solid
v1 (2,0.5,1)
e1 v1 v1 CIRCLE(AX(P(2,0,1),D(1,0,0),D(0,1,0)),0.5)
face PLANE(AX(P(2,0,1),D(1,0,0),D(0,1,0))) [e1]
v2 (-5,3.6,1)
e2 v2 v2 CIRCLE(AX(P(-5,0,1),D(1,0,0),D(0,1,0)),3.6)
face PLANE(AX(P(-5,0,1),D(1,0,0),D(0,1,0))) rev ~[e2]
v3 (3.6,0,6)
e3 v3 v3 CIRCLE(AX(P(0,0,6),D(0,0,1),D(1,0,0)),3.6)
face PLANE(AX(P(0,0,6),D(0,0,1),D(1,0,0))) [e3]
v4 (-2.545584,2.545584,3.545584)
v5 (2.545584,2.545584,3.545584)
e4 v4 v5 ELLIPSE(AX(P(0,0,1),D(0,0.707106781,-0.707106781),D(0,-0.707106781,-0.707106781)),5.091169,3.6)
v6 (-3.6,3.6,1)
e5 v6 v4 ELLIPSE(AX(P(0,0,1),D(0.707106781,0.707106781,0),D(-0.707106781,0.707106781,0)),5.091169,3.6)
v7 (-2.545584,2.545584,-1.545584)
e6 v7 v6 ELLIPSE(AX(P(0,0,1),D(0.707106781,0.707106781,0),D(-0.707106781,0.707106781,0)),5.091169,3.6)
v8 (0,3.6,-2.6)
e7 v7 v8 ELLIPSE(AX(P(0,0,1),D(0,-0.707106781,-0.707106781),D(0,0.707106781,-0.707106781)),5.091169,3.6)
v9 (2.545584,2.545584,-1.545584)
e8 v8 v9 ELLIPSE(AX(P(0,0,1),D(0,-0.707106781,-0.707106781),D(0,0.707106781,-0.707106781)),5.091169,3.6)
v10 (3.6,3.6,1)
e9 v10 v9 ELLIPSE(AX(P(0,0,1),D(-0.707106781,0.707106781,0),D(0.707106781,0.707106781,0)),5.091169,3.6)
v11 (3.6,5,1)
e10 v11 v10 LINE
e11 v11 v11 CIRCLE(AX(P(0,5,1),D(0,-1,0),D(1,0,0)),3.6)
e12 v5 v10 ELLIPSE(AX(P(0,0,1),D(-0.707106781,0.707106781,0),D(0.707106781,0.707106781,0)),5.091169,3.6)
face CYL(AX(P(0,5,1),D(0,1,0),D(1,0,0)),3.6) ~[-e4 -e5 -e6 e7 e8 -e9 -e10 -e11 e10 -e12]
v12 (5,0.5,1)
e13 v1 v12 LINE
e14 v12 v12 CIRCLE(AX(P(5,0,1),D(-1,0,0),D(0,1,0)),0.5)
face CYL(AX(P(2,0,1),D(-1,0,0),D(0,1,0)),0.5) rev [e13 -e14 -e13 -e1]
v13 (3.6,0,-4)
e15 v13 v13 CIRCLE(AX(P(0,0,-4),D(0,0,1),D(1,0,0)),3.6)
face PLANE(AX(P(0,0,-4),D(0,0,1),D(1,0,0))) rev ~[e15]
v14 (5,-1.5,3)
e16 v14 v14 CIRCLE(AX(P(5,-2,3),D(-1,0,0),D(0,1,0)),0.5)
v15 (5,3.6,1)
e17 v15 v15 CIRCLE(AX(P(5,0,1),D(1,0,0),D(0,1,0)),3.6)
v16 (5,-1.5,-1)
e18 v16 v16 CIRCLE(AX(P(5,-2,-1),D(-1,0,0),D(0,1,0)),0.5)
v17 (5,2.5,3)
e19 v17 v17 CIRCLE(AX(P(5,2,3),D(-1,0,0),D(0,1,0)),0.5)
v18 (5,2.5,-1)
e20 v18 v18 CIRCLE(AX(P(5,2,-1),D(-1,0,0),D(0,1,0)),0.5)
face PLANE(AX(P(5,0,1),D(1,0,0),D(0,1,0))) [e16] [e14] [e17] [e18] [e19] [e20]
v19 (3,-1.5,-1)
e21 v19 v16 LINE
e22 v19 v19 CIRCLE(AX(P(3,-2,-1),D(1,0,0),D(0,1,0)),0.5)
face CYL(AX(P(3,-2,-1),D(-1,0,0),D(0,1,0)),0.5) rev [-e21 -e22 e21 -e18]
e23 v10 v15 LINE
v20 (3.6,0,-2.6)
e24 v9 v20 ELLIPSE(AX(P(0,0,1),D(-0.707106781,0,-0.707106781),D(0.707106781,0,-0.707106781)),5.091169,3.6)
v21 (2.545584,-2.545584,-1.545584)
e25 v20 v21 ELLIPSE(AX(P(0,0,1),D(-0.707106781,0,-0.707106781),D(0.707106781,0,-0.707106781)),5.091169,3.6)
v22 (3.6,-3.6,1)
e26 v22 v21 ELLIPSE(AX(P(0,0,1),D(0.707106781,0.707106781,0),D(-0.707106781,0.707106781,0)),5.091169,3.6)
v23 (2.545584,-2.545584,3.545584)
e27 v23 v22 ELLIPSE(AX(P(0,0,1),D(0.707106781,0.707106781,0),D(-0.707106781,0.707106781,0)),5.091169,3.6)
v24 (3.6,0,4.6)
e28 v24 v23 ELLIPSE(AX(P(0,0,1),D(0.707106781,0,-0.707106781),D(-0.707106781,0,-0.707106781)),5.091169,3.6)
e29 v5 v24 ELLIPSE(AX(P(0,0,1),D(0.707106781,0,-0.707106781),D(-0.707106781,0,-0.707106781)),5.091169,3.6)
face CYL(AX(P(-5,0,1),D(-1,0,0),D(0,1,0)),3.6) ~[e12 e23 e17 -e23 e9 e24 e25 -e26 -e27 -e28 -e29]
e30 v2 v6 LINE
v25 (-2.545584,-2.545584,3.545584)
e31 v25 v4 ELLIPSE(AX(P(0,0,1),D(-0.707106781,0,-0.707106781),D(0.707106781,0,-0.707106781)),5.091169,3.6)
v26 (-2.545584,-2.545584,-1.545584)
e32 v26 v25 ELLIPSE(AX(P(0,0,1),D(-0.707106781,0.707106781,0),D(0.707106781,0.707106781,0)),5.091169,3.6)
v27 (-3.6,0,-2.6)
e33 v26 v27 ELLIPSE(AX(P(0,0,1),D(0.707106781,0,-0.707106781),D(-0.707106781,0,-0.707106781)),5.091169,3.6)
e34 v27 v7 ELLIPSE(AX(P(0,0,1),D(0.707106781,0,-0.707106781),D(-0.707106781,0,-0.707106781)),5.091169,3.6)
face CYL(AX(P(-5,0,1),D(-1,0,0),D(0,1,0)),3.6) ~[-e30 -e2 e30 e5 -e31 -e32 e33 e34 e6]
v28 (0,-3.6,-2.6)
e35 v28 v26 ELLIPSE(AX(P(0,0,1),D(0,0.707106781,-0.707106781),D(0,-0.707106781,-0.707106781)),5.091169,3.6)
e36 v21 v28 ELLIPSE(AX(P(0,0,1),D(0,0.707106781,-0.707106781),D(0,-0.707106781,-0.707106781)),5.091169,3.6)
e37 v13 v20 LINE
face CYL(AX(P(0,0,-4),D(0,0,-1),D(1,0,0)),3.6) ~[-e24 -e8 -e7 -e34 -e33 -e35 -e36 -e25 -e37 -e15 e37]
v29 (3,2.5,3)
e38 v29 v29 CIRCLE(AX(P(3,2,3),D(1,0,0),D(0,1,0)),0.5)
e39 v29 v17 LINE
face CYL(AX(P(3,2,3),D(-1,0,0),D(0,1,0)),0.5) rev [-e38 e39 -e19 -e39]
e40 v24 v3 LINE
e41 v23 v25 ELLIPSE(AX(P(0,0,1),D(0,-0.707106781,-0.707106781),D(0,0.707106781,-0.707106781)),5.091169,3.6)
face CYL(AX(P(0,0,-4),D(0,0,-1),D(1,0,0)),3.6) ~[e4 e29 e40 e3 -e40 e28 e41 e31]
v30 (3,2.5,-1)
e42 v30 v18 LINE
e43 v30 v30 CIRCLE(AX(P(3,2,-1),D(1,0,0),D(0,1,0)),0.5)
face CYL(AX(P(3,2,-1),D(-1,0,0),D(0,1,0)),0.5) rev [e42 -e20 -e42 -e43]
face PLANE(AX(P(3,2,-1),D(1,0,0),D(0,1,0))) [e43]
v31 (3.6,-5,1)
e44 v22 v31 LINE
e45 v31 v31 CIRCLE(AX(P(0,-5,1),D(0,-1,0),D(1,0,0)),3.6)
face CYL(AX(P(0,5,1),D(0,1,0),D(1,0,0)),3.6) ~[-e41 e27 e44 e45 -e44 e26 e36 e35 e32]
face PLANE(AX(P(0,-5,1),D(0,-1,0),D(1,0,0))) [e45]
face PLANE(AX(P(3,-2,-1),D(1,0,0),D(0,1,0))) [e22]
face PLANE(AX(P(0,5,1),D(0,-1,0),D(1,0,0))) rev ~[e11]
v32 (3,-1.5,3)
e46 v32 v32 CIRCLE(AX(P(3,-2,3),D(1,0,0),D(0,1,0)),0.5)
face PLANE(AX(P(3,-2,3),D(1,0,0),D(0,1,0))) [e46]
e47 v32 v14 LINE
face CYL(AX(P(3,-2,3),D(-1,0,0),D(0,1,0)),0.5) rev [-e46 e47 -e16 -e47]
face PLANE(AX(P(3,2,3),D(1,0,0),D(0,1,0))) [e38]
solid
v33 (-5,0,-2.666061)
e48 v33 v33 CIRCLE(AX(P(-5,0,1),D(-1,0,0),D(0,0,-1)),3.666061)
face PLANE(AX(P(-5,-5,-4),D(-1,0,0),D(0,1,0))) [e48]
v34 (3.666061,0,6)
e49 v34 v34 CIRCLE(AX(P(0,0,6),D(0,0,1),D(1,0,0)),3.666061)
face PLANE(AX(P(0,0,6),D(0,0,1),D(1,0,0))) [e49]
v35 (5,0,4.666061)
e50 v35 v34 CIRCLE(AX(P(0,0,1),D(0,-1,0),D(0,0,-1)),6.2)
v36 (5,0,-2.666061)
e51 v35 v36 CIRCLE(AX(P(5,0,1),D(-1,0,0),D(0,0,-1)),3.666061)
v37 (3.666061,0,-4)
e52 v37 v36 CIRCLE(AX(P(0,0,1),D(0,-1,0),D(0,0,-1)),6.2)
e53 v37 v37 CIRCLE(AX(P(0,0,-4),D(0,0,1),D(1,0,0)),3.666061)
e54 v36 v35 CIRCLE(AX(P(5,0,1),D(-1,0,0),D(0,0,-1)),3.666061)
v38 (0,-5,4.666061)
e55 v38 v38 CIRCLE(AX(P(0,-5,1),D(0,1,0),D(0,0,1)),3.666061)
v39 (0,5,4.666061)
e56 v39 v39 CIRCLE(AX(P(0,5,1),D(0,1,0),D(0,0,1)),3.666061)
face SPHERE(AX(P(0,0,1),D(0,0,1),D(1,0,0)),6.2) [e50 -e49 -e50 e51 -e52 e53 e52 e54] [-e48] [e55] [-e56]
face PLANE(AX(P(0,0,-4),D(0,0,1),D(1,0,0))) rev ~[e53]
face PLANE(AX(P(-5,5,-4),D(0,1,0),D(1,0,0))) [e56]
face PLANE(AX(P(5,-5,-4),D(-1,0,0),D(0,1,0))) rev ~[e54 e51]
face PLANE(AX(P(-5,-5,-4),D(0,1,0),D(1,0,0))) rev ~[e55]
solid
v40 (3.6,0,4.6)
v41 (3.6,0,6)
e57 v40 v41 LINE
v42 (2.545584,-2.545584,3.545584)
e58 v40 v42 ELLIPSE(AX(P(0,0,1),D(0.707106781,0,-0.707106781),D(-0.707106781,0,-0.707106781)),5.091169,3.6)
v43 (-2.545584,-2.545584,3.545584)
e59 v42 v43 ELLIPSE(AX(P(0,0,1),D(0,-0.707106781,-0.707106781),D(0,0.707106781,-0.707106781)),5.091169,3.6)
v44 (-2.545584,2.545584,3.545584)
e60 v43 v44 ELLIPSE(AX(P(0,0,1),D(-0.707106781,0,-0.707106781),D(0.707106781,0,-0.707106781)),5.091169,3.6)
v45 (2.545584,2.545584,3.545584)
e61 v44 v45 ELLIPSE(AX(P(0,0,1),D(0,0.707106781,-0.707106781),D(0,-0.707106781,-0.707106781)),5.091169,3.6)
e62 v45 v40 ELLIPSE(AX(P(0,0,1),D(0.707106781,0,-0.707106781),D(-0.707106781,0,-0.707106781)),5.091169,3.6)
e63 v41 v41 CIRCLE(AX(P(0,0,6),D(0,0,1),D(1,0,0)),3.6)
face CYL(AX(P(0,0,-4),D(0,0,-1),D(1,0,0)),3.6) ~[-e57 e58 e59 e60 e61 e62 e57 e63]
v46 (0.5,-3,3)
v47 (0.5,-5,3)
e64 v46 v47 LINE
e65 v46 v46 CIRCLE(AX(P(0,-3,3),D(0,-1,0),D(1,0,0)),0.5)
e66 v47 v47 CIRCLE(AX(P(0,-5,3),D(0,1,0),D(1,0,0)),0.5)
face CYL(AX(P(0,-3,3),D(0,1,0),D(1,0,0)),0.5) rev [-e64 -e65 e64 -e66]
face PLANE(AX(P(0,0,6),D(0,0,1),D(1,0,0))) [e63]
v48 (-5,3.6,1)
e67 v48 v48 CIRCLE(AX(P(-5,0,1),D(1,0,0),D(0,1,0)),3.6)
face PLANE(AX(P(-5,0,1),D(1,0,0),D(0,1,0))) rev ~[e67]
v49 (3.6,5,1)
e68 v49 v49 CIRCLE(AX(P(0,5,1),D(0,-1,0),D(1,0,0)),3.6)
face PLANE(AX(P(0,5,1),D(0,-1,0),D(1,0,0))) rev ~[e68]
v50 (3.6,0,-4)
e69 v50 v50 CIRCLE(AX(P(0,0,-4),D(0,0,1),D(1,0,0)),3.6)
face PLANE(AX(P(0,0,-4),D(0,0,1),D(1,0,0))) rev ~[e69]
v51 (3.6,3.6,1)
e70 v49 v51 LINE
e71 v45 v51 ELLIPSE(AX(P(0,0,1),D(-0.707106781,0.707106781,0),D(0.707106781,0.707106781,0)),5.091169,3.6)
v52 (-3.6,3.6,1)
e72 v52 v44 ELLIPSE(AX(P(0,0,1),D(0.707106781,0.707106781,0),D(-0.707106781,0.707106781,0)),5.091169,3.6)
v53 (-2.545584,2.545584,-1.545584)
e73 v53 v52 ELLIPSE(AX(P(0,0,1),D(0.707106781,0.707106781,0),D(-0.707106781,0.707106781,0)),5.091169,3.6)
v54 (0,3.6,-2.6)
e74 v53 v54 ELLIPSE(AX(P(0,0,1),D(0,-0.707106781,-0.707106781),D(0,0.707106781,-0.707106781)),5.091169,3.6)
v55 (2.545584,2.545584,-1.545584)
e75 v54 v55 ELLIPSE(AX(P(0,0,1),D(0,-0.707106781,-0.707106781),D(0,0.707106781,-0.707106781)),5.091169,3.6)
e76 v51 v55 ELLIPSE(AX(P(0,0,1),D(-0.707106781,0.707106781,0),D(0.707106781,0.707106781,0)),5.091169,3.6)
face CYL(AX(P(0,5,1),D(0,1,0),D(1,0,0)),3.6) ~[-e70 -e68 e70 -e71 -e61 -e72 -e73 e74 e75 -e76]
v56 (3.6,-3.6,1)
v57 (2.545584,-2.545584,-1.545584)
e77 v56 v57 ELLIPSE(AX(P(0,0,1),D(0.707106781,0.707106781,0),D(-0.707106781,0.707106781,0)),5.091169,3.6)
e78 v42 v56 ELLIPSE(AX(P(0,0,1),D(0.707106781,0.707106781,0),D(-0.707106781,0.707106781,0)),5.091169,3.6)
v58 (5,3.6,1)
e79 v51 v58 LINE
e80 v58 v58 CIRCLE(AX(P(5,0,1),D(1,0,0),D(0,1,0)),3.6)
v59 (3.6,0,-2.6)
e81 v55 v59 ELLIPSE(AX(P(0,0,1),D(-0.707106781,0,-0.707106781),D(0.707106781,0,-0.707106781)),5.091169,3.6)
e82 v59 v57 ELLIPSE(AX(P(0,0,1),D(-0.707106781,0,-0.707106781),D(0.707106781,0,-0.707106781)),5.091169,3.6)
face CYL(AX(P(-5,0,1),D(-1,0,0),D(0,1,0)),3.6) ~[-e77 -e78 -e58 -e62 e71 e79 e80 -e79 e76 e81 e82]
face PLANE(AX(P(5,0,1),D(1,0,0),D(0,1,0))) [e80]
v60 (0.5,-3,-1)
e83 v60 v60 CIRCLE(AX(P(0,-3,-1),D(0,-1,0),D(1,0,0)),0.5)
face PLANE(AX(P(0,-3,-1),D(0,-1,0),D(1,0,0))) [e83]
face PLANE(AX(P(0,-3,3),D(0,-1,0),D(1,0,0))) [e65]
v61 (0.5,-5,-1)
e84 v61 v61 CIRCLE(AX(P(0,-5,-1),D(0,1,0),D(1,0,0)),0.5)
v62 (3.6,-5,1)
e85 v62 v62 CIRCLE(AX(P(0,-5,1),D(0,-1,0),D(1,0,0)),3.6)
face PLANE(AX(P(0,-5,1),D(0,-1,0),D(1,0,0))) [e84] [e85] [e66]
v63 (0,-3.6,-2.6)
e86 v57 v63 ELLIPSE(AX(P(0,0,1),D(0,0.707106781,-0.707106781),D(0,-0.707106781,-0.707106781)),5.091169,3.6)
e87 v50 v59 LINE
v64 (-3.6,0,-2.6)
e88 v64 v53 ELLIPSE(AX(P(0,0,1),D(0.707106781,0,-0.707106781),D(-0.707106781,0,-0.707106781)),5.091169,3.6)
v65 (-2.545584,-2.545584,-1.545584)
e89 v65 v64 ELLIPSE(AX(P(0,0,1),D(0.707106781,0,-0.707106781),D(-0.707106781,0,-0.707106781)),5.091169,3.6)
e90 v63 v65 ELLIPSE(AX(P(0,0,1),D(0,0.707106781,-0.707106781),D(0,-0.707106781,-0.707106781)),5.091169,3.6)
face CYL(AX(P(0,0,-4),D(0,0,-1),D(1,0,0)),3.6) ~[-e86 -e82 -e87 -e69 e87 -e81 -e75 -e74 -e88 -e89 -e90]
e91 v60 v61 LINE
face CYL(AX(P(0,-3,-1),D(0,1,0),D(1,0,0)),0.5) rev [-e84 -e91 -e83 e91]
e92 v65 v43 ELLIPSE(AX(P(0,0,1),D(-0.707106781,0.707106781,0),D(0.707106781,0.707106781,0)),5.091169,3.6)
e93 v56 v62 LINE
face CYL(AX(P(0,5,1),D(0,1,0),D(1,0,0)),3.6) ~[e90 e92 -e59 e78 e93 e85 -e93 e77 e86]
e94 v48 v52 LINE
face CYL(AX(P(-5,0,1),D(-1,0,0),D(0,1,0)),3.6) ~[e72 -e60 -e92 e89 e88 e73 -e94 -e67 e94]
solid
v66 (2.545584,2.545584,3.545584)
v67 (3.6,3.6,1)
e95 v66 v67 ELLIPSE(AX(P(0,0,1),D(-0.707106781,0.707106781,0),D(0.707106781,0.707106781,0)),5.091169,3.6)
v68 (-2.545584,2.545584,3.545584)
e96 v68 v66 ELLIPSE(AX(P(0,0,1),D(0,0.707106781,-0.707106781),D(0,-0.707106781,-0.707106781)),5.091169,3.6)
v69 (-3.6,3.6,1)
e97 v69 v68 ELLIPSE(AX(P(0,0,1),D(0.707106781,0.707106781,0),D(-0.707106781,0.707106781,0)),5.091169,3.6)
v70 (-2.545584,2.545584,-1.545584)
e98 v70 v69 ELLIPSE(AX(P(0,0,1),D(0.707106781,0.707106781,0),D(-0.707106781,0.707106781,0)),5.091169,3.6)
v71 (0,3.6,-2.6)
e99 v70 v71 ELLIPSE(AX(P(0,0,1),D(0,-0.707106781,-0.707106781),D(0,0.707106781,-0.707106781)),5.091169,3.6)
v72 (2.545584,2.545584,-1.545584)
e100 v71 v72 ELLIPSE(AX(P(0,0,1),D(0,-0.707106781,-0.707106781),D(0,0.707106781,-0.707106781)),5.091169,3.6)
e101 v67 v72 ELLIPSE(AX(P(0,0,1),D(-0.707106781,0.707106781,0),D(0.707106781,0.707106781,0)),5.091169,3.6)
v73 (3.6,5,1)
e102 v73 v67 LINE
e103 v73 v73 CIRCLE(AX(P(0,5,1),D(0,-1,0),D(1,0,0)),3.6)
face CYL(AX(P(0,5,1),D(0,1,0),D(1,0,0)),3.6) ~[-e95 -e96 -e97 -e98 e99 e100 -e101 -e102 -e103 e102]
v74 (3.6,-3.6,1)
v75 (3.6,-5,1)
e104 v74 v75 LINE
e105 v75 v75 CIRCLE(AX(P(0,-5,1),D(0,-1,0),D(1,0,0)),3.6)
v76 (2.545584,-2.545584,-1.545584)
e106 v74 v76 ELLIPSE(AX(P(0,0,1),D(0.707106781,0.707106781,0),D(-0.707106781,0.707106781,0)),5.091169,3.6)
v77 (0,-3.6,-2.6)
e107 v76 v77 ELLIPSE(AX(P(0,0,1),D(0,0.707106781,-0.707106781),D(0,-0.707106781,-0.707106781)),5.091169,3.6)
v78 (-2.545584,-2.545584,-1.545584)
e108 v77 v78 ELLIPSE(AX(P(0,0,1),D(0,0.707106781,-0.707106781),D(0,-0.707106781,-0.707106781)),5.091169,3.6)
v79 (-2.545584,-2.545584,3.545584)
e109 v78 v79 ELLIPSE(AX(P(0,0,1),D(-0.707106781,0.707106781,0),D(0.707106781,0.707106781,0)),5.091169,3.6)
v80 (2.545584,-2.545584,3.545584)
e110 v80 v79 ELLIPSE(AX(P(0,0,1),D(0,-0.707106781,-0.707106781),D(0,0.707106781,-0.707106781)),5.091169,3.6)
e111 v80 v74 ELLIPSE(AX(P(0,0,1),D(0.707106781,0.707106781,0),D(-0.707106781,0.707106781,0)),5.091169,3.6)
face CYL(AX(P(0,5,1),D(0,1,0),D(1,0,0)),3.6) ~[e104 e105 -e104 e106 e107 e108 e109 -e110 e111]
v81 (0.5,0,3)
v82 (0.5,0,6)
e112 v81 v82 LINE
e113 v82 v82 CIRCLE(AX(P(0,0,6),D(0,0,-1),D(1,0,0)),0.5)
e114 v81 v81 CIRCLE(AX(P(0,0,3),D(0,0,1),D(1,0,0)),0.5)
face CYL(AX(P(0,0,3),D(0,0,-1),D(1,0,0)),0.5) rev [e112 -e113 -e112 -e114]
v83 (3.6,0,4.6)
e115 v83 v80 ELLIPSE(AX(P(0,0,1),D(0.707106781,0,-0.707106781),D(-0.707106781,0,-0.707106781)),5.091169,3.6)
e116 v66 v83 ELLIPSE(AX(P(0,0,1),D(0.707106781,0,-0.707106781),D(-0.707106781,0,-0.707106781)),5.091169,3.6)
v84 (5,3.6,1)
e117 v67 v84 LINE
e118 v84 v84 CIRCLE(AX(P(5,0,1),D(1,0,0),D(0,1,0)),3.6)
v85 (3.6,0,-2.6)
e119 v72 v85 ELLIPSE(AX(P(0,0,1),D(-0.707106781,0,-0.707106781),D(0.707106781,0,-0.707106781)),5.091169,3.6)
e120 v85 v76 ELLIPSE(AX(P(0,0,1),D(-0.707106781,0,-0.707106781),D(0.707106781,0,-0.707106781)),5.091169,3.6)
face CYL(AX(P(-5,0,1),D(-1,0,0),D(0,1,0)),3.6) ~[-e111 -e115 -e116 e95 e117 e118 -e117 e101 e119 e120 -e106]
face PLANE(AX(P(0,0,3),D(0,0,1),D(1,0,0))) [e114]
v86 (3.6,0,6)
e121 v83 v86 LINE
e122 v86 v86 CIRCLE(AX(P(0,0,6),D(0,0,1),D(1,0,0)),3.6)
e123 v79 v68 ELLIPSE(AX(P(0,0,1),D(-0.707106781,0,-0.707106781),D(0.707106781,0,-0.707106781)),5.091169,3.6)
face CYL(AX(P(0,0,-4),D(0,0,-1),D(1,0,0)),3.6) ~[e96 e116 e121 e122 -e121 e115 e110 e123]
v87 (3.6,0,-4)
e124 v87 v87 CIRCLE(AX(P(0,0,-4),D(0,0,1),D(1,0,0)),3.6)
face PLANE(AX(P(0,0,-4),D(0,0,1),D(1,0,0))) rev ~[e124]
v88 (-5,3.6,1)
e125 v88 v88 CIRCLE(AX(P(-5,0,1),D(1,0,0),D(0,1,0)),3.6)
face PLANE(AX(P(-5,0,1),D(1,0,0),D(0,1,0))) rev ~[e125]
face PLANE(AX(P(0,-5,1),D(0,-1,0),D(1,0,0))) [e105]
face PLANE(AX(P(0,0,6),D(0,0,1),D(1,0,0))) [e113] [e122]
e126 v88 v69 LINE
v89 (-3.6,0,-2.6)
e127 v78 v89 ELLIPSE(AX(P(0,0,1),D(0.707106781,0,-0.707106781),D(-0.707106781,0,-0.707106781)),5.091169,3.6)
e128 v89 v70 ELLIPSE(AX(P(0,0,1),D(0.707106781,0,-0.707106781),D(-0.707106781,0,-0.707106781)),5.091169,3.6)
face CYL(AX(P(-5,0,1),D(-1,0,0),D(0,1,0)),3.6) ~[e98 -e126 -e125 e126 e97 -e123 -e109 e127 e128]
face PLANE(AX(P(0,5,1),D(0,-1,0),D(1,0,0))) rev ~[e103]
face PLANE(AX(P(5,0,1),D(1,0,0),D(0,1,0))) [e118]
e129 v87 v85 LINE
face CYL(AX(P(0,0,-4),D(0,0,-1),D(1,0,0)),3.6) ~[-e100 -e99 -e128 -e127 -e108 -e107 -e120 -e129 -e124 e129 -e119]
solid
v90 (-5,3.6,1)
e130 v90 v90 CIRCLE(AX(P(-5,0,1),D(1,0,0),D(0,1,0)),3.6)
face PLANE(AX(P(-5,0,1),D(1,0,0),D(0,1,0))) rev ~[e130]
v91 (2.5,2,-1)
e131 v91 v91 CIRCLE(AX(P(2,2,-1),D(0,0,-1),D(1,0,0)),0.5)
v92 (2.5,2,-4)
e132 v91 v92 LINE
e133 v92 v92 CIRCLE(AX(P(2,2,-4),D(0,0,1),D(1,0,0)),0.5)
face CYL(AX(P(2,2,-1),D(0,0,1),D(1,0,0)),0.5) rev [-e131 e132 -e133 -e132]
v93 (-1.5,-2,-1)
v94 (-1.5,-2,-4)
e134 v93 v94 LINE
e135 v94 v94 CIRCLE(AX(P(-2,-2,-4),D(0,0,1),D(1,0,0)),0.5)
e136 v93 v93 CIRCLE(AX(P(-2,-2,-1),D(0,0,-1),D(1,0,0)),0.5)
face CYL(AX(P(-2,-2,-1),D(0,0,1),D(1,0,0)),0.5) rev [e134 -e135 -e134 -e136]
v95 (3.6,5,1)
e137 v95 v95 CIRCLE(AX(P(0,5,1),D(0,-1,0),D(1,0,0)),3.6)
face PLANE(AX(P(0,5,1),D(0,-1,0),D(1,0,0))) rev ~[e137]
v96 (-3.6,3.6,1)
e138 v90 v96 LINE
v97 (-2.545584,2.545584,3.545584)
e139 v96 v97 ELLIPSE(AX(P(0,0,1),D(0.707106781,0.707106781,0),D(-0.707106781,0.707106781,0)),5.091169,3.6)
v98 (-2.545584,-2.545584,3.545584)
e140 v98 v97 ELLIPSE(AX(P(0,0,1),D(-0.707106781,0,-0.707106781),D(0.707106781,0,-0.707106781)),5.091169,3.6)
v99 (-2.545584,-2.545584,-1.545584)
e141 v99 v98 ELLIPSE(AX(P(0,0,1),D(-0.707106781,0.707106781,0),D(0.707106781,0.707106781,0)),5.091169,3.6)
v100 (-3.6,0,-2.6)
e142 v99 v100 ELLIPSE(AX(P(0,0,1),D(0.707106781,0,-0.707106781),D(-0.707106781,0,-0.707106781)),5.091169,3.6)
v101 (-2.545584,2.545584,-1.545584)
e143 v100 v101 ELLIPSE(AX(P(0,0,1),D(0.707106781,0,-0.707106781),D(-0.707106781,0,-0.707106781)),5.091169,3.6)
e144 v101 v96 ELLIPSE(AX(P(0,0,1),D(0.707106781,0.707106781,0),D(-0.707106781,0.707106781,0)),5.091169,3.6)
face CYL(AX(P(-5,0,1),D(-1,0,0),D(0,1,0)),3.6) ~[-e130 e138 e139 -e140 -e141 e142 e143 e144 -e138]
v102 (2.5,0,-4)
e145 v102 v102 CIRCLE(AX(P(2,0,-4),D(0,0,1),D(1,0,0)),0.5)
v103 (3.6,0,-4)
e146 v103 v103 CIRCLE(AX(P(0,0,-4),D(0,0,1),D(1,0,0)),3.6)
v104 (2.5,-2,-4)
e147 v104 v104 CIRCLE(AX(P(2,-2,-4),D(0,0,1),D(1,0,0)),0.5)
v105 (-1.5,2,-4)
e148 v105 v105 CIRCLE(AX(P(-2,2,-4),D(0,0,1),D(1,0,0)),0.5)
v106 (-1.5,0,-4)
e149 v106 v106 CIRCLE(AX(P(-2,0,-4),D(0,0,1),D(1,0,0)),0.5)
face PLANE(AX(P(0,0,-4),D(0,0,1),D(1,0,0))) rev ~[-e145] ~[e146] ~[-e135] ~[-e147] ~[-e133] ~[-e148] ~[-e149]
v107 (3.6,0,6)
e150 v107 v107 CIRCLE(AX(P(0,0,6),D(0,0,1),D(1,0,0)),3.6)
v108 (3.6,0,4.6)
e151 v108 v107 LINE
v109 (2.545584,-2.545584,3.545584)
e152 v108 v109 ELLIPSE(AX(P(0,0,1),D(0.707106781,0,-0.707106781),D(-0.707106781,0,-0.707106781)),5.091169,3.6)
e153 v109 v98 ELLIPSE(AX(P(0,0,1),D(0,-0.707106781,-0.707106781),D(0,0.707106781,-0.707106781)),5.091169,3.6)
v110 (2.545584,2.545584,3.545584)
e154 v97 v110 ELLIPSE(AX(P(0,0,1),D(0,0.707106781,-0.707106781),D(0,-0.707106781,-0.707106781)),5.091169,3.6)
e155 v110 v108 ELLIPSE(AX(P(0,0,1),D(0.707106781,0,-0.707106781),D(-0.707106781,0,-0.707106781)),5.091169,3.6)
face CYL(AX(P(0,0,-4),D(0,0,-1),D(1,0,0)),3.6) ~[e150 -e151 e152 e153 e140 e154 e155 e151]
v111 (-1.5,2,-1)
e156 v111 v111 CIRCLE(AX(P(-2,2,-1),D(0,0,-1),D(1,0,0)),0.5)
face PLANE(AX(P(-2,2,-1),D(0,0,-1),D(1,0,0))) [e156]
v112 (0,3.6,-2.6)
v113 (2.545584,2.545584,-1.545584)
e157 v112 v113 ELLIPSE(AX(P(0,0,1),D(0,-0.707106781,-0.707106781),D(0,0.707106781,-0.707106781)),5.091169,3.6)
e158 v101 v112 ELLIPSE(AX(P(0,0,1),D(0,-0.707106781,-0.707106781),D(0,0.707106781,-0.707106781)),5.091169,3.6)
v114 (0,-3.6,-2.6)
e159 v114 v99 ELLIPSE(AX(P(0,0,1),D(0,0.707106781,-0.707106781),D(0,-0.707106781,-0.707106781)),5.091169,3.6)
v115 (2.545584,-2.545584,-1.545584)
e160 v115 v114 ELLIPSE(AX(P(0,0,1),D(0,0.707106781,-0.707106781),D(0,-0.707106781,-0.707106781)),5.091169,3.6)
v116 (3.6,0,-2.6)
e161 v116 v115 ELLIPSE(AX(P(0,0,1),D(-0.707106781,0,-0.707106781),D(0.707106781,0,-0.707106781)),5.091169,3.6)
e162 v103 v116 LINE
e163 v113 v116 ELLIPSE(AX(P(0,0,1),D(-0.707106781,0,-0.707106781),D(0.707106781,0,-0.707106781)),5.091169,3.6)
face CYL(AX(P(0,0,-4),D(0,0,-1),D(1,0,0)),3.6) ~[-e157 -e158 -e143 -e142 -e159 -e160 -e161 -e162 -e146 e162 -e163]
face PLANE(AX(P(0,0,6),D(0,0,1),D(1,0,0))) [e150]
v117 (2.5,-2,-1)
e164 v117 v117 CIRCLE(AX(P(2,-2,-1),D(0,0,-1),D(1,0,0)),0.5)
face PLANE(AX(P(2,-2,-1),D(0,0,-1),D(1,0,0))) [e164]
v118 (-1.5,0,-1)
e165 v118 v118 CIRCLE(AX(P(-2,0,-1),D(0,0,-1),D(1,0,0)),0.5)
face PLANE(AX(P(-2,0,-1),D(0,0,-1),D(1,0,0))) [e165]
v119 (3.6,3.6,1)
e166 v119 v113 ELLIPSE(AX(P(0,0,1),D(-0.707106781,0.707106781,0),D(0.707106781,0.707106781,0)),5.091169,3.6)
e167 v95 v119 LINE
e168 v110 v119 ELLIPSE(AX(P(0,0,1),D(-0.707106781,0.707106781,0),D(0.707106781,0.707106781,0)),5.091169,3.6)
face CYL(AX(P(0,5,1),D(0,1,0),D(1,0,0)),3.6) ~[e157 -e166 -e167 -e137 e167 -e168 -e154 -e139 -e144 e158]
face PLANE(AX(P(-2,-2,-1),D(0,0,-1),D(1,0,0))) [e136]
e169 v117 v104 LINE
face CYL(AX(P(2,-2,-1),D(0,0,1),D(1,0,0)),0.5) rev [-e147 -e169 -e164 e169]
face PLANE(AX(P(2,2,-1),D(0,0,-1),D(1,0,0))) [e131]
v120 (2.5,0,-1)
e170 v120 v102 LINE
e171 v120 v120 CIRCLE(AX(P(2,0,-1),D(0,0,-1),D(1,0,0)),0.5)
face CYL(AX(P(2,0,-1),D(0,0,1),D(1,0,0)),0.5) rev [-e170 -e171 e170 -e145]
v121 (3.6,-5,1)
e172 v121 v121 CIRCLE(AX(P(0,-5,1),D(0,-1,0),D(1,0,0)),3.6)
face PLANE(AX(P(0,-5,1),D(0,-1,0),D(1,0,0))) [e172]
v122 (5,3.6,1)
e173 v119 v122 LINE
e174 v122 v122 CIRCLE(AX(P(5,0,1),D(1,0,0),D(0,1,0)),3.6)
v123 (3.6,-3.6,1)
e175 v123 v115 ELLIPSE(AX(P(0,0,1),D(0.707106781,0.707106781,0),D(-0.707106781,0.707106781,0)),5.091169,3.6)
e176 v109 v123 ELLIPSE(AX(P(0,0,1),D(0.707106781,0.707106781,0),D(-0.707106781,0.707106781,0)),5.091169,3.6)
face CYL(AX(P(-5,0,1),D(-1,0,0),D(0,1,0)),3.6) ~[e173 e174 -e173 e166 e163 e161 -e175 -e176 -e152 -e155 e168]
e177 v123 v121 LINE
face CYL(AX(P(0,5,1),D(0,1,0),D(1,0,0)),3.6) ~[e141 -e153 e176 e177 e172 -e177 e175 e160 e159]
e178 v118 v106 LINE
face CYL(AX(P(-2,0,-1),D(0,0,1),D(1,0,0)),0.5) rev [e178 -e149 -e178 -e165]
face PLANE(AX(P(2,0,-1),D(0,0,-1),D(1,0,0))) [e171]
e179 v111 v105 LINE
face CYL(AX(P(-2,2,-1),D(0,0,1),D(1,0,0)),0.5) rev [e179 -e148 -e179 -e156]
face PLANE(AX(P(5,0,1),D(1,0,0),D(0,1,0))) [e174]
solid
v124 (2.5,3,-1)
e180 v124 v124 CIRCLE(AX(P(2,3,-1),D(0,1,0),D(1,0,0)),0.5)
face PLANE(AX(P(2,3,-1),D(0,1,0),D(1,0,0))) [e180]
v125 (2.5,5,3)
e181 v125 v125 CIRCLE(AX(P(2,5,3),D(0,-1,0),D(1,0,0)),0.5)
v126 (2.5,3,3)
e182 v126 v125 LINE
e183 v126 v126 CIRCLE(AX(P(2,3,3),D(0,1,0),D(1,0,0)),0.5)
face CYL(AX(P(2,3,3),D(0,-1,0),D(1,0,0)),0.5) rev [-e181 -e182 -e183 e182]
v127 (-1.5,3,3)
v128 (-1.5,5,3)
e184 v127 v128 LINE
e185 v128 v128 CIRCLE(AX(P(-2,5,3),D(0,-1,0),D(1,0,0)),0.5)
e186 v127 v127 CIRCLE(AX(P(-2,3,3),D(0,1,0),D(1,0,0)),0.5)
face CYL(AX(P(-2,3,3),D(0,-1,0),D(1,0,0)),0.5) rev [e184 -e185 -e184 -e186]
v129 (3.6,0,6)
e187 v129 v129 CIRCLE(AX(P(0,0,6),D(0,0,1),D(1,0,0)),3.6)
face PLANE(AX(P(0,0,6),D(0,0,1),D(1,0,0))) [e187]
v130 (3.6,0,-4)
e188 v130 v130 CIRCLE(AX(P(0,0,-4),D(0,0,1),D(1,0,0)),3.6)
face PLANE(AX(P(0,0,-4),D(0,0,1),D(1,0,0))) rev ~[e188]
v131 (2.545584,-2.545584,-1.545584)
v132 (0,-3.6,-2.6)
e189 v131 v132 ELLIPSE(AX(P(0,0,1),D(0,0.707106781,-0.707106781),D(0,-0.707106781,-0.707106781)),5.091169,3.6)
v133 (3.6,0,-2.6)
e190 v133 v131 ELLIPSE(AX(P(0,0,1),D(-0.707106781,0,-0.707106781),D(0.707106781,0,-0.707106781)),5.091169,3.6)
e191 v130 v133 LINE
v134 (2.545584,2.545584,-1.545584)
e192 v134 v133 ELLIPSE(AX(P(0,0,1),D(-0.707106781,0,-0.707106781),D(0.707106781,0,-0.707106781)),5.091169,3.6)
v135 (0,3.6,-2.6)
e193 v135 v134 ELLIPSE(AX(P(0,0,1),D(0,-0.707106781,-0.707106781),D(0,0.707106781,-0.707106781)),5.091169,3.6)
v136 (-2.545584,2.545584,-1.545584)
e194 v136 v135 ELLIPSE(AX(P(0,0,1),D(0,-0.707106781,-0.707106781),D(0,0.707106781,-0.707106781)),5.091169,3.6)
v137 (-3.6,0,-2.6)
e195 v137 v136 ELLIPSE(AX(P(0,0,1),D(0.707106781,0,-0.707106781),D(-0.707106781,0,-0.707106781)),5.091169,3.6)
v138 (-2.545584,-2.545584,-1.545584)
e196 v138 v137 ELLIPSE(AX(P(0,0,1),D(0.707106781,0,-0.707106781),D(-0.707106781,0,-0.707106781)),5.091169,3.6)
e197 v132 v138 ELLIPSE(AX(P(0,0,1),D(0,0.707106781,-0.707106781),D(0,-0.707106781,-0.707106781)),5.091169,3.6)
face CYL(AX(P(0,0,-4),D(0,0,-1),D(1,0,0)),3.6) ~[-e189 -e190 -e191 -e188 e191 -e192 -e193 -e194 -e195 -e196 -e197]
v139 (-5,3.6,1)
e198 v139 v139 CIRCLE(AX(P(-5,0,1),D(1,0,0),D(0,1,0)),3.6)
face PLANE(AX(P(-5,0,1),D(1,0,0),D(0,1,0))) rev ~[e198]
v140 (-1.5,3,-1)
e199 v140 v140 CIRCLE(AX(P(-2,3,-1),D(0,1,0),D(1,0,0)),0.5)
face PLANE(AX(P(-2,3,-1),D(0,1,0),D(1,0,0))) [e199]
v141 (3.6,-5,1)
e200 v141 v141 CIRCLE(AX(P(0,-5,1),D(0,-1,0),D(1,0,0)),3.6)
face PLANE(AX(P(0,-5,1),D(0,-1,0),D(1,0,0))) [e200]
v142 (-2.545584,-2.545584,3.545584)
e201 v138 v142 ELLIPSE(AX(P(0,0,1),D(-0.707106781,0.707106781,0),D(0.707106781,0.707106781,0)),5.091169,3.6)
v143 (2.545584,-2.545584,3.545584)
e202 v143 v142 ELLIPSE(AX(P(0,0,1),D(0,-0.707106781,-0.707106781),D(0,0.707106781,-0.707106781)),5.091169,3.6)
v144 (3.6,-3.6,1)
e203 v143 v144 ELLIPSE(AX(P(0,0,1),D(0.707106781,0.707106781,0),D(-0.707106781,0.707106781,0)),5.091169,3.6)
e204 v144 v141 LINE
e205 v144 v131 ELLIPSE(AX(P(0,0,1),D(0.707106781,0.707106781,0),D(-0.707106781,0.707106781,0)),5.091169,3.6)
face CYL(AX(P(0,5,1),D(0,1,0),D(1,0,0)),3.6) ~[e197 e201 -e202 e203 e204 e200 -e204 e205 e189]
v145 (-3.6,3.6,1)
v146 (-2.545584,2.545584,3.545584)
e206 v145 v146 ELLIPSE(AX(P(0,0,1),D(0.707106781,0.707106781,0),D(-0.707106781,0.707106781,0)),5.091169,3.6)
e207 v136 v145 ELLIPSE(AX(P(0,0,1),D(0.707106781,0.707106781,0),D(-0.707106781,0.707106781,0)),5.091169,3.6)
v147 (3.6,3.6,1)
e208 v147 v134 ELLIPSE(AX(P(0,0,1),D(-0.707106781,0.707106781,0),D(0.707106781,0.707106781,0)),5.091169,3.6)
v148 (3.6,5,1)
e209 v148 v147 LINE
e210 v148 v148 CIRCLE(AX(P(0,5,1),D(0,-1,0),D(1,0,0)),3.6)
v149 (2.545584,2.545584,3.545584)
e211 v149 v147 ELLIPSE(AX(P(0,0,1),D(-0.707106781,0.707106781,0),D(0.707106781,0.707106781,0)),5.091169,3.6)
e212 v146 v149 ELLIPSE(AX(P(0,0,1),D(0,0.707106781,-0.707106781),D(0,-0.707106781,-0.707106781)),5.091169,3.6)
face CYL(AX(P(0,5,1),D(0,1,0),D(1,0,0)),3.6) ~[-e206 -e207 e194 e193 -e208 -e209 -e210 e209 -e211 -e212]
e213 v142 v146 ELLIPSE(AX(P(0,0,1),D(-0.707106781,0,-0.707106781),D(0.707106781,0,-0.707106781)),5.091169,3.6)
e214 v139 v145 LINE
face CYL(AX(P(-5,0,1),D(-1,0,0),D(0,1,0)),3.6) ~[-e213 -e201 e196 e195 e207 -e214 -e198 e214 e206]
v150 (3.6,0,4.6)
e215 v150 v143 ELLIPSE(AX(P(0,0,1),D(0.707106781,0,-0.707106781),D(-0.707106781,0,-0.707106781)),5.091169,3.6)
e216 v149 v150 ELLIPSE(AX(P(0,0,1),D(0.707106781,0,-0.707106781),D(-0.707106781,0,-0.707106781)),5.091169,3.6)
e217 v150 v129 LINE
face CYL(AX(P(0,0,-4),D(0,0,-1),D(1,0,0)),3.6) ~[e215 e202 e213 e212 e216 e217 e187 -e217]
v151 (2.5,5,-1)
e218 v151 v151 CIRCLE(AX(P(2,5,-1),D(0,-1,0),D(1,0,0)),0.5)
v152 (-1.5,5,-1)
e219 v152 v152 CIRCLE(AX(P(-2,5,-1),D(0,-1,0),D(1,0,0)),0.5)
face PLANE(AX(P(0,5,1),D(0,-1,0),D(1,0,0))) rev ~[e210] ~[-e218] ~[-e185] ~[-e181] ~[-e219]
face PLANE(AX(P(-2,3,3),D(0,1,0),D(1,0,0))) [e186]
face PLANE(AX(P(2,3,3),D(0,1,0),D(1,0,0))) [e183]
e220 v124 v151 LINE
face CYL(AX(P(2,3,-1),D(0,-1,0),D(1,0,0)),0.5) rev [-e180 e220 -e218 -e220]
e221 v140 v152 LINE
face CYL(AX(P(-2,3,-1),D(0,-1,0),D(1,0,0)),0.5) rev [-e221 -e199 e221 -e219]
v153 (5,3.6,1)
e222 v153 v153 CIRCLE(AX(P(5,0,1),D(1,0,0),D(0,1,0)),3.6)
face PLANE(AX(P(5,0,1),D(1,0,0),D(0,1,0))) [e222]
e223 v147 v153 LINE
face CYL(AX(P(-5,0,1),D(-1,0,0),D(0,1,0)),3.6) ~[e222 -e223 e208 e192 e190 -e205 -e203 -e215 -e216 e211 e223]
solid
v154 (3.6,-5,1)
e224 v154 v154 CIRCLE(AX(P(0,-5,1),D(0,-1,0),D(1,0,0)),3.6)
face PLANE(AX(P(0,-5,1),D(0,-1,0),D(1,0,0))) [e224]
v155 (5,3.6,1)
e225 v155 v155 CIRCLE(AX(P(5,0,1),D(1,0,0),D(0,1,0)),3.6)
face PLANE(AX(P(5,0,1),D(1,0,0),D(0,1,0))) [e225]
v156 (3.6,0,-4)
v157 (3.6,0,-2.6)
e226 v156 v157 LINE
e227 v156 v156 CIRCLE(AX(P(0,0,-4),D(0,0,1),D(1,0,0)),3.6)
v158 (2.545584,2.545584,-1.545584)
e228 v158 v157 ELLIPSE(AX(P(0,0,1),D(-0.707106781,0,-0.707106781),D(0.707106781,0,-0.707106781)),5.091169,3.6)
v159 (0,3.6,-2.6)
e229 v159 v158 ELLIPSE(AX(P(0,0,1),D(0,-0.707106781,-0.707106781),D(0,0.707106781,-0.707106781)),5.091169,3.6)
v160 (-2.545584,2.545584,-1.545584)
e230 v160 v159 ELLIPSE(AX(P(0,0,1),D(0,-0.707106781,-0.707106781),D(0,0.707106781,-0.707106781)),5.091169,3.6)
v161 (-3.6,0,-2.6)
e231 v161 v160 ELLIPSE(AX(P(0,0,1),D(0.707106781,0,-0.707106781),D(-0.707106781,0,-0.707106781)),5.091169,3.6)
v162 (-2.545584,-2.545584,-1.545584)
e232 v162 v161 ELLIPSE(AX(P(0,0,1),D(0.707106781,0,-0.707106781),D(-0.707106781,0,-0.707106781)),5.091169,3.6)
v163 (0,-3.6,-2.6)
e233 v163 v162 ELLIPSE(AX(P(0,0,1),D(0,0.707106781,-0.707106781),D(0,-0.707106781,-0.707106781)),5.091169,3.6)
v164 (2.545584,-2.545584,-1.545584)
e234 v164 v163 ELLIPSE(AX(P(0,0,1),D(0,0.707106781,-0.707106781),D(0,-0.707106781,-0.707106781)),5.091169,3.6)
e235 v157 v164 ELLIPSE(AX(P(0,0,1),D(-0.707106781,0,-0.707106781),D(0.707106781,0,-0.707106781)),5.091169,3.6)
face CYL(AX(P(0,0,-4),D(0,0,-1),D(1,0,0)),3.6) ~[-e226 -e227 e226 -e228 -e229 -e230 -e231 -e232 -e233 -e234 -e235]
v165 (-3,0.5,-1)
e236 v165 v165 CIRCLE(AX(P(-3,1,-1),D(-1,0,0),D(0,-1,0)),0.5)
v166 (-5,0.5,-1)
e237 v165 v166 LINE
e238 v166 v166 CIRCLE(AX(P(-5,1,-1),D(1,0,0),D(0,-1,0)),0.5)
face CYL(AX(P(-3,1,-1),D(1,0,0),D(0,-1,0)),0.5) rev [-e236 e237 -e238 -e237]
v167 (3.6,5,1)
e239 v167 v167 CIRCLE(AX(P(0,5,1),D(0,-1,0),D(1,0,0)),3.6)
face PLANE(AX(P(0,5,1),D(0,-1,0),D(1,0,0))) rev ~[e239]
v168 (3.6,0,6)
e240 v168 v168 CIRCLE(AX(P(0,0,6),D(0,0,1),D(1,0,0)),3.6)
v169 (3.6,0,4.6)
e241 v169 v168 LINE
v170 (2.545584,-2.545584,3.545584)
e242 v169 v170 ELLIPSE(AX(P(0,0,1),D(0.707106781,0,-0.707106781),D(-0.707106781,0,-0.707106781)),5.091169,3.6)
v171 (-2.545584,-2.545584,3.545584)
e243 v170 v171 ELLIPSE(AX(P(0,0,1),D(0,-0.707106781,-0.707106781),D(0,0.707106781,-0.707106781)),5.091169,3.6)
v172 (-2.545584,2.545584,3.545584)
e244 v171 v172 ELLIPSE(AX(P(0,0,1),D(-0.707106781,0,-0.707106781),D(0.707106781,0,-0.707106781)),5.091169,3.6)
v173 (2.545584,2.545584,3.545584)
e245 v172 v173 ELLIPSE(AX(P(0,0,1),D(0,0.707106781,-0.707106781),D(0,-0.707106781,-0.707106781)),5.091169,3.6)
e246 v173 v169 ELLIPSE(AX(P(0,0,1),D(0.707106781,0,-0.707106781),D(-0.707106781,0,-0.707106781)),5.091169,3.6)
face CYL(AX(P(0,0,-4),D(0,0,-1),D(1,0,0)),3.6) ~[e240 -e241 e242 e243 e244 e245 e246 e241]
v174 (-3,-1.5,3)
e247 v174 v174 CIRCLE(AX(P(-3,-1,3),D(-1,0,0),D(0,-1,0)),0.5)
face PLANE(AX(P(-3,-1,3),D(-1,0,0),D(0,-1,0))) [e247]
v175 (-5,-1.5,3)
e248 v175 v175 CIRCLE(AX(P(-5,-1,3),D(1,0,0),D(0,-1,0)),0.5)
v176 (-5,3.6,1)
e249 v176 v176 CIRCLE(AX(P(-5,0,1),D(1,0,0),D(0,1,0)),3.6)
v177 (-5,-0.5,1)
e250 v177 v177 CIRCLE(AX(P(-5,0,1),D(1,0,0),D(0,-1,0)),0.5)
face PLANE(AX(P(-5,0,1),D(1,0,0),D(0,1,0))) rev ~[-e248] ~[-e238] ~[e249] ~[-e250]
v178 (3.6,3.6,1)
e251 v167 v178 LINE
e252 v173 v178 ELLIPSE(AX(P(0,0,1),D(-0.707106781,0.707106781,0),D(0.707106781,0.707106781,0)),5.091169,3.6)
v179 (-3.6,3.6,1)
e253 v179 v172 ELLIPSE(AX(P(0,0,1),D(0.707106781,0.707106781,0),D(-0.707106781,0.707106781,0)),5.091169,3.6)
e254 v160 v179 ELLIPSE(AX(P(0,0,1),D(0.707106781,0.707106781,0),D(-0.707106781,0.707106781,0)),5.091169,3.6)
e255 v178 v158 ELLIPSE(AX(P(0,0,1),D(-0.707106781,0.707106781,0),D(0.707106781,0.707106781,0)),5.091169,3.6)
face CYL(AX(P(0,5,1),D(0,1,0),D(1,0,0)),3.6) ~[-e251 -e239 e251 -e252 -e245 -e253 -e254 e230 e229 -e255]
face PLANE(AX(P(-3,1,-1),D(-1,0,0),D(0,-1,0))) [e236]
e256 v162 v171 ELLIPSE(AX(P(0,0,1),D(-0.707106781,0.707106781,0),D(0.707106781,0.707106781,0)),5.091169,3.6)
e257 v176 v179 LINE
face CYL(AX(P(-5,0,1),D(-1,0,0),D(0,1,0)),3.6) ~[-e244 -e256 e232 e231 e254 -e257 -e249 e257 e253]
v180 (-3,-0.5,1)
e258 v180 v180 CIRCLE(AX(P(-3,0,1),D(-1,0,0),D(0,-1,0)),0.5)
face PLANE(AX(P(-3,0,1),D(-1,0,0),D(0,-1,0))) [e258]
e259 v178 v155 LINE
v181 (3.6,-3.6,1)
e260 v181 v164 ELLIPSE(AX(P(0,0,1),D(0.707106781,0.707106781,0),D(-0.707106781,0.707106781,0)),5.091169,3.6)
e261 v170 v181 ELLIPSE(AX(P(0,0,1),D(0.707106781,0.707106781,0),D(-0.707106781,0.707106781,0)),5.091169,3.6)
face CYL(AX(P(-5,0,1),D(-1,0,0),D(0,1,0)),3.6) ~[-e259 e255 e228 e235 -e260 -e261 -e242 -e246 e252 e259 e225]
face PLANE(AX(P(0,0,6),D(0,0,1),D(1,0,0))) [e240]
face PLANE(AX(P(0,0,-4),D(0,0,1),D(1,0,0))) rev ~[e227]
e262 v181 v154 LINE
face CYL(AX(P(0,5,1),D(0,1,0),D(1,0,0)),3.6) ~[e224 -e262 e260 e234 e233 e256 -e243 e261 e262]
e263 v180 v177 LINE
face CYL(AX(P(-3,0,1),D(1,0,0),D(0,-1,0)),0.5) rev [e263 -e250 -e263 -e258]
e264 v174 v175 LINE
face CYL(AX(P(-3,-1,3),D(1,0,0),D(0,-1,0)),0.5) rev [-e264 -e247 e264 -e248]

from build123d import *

# Parameters (mm, degrees)
BOX_W             = 10
BOX_H             = 10
BOX_DEPTH         = 10
FILLET_R          = 1
CYLINDER012_R     = 0.5
CYLINDER012_DEPTH = 5
CYLINDER011_R     = 0.5
CYLINDER011_DEPTH = 5
CYLINDER010_R     = 0.5
CYLINDER010_DEPTH = 5
CYLINDER009_R     = 0.5
CYLINDER009_DEPTH = 5
CYLINDER013_R     = 0.5
CYLINDER013_DEPTH = 5
CYLINDER001_R     = 3.6
CYLINDER001_DEPTH = 10
CYLINDER002_R     = 3.6
CYLINDER002_DEPTH = 10
CYLINDER_R        = 3.6
CYLINDER_DEPTH    = 10
CYLINDER015_R     = 0.5
CYLINDER015_DEPTH = 5
CYLINDER016_R     = 0.5
CYLINDER016_DEPTH = 5
CYLINDER017_R     = 0.5
CYLINDER017_DEPTH = 5
CYLINDER018_R     = 0.5
CYLINDER018_DEPTH = 5
CYLINDER019_R     = 0.5
CYLINDER019_DEPTH = 5
CYLINDER014_R     = 0.5
CYLINDER014_DEPTH = 5
CYLINDER007_R     = 0.5
CYLINDER007_DEPTH = 5
CYLINDER006_R     = 0.5
CYLINDER006_DEPTH = 5
CYLINDER008_R     = 0.5
CYLINDER008_DEPTH = 5
CYLINDER003_R     = 0.5
CYLINDER003_DEPTH = 5
CYLINDER005_R     = 0.5
CYLINDER005_DEPTH = 5
CYLINDER004_R     = 0.5
CYLINDER004_DEPTH = 5
CYLINDER021_R     = 0.5
CYLINDER021_DEPTH = 5
CYLINDER022_R     = 0.5
CYLINDER022_DEPTH = 5
CYLINDER023_R     = 0.5
CYLINDER023_DEPTH = 5
CYLINDER020_R     = 0.5
CYLINDER020_DEPTH = 5


with BuildPart() as fillet_body:
    # Box → Box (new body)
    with BuildSketch(Plane(origin=(-5, -6, -4), x_dir=(1, 0, 0), z_dir=(0, 0, 1))):
        with Locations((5, 5)):
            Rectangle(BOX_W, BOX_H)
    extrude(amount=BOX_DEPTH)

    # Fillet
    fillet_edges = [fillet_body.edges().sort_by_distance(p)[0] for p in [
        (-5, -6, 1),
        (-5, -1, 6),
        (5, -6, 1),
        (5, -1, 6),
        (5, 4, 1),
        (5, -1, -4),
        (0, -6, -4),
        (0, -6, 6),
        (0, 4, 6),
    ]]
    fillet(fillet_edges, radius=FILLET_R)


with BuildPart() as fillet_body_1:
    # Fillet placement: moved
    add(fillet_body.part.moved(Location((0, 1, 0))))


with BuildPart() as common:
    # Sphere → Sphere (revolve)
    with BuildSketch(Plane(origin=(0, 0, 1), x_dir=(1, 0, 0), z_dir=(0, -1, 0))):
        with BuildLine():
            ThreePointArc((0, -6.2), (6.2, 0), (0, 6.2))
            Line((0, 6.2), (0, -6.2))
        make_face()
    revolve(axis=Axis((0, 0, 1), (0, 0, 1)))

    # Common: intersect Fillet body
    add(fillet_body_1.part, mode=Mode.INTERSECT)


with BuildPart() as cylinder012:
    # Cylinder012 → Cylinder012 (new body)
    with BuildSketch(Plane(origin=(3, 2, -1), x_dir=(0, 1, 0), z_dir=(1, 0, 0))):
        Circle(CYLINDER012_R)
    extrude(amount=CYLINDER012_DEPTH)


with BuildPart() as cylinder011:
    # Cylinder011 → Cylinder011 (new body)
    with BuildSketch(Plane(origin=(3, 2, 3), x_dir=(0, 1, 0), z_dir=(1, 0, 0))):
        Circle(CYLINDER011_R)
    extrude(amount=CYLINDER011_DEPTH)


with BuildPart() as cylinder010:
    # Cylinder010 → Cylinder010 (new body)
    with BuildSketch(Plane(origin=(3, -2, -1), x_dir=(0, 1, 0), z_dir=(1, 0, 0))):
        Circle(CYLINDER010_R)
    extrude(amount=CYLINDER010_DEPTH)


with BuildPart() as cylinder009:
    # Cylinder009 → Cylinder009 (new body)
    with BuildSketch(Plane(origin=(3, -2, 3), x_dir=(0, 1, 0), z_dir=(1, 0, 0))):
        Circle(CYLINDER009_R)
    extrude(amount=CYLINDER009_DEPTH)


with BuildPart() as fusion001:
    # Cylinder013 → Cylinder013 (new body)
    with BuildSketch(Plane(origin=(2, 0, 1), x_dir=(0, 1, 0), z_dir=(1, 0, 0))):
        Circle(CYLINDER013_R)
    extrude(amount=CYLINDER013_DEPTH)

    # Fusion001: union Cylinder012, Cylinder011, Cylinder010, Cylinder009
    add(cylinder012.part)
    add(cylinder011.part)
    add(cylinder010.part)
    add(cylinder009.part)


with BuildPart() as cylinder001:
    # Cylinder001 → Cylinder001 (new body)
    with BuildSketch(Plane(origin=(0, 5, 1), x_dir=(1, 0, 0), z_dir=(0, -1, 0))):
        Circle(CYLINDER001_R)
    extrude(amount=CYLINDER001_DEPTH)


with BuildPart() as cylinder002:
    # Cylinder002 → Cylinder002 (new body)
    with BuildSketch(Plane(origin=(-5, 0, 1), x_dir=(0, 1, 0), z_dir=(1, 0, 0))):
        Circle(CYLINDER002_R)
    extrude(amount=CYLINDER002_DEPTH)


with BuildPart() as fusion:
    # Cylinder → Cylinder (new body)
    with BuildSketch(Plane.XY.offset(-4)):
        Circle(CYLINDER_R)
    extrude(amount=CYLINDER_DEPTH)

    # Fusion: union Cylinder001, Cylinder002
    add(cylinder001.part)
    add(cylinder002.part)


with BuildPart() as cut:
    # Cut base: copy of Fusion
    add(fusion.part)

    # Cut: cut Fusion001
    add(fusion001.part, mode=Mode.SUBTRACT)


with BuildPart() as cylinder015:
    # Cylinder015 → Cylinder015 (new body)
    with BuildSketch(Plane(origin=(-2, 0, -1), x_dir=(1, 0, 0), z_dir=(0, 0, -1))):
        Circle(CYLINDER015_R)
    extrude(amount=CYLINDER015_DEPTH)


with BuildPart() as cylinder016:
    # Cylinder016 → Cylinder016 (new body)
    with BuildSketch(Plane(origin=(-2, 2, -1), x_dir=(1, 0, 0), z_dir=(0, 0, -1))):
        Circle(CYLINDER016_R)
    extrude(amount=CYLINDER016_DEPTH)


with BuildPart() as cylinder017:
    # Cylinder017 → Cylinder017 (new body)
    with BuildSketch(Plane(origin=(2, 2, -1), x_dir=(1, 0, 0), z_dir=(0, 0, -1))):
        Circle(CYLINDER017_R)
    extrude(amount=CYLINDER017_DEPTH)


with BuildPart() as cylinder018:
    # Cylinder018 → Cylinder018 (new body)
    with BuildSketch(Plane(origin=(2, 0, -1), x_dir=(1, 0, 0), z_dir=(0, 0, -1))):
        Circle(CYLINDER018_R)
    extrude(amount=CYLINDER018_DEPTH)


with BuildPart() as cylinder019:
    # Cylinder019 → Cylinder019 (new body)
    with BuildSketch(Plane(origin=(2, -2, -1), x_dir=(1, 0, 0), z_dir=(0, 0, -1))):
        Circle(CYLINDER019_R)
    extrude(amount=CYLINDER019_DEPTH)


with BuildPart() as fusion003:
    # Cylinder014 → Cylinder014 (new body)
    with BuildSketch(Plane(origin=(-2, -2, -1), x_dir=(1, 0, 0), z_dir=(0, 0, -1))):
        Circle(CYLINDER014_R)
    extrude(amount=CYLINDER014_DEPTH)

    # Fusion003: union Cylinder015, Cylinder016, Cylinder017, Cylinder018, Cylinder019
    add(cylinder015.part)
    add(cylinder016.part)
    add(cylinder017.part)
    add(cylinder018.part)
    add(cylinder019.part)


with BuildPart() as cut001:
    # Cut001 base: copy of Fusion
    add(fusion.part)

    # Cut001: cut Fusion003
    add(fusion003.part, mode=Mode.SUBTRACT)


with BuildPart() as cylinder007:
    # Cylinder007 → Cylinder007 (new body)
    with BuildSketch(Plane(origin=(-3, 0, 1), x_dir=(0, -1, 0), z_dir=(-1, 0, 0))):
        Circle(CYLINDER007_R)
    extrude(amount=CYLINDER007_DEPTH)


with BuildPart() as cylinder006:
    # Cylinder006 → Cylinder006 (new body)
    with BuildSketch(Plane(origin=(-3, -1, 3), x_dir=(0, -1, 0), z_dir=(-1, 0, 0))):
        Circle(CYLINDER006_R)
    extrude(amount=CYLINDER006_DEPTH)


with BuildPart() as fusion002:
    # Cylinder008 → Cylinder008 (new body)
    with BuildSketch(Plane(origin=(-3, 1, -1), x_dir=(0, -1, 0), z_dir=(-1, 0, 0))):
        Circle(CYLINDER008_R)
    extrude(amount=CYLINDER008_DEPTH)

    # Fusion002: union Cylinder007, Cylinder006
    add(cylinder007.part)
    add(cylinder006.part)


with BuildPart() as cut002:
    # Cut002 base: copy of Fusion
    add(fusion.part)

    # Cut002: cut Fusion002
    add(fusion002.part, mode=Mode.SUBTRACT)


with BuildPart() as cylinder003:
    # Cylinder003 → Cylinder003 (new body)
    with BuildSketch(Plane.XY.offset(3)):
        Circle(CYLINDER003_R)
    extrude(amount=CYLINDER003_DEPTH)


with BuildPart() as cut003:
    # Cut003 base: copy of Fusion
    add(fusion.part)

    # Cut003: cut Cylinder003
    add(cylinder003.part, mode=Mode.SUBTRACT)


with BuildPart() as cylinder005:
    # Cylinder005 → Cylinder005 (new body)
    with BuildSketch(Plane(origin=(0, -3, -1), x_dir=(1, 0, 0), z_dir=(0, -1, 0))):
        Circle(CYLINDER005_R)
    extrude(amount=CYLINDER005_DEPTH)


with BuildPart() as fusion004:
    # Cylinder004 → Cylinder004 (new body)
    with BuildSketch(Plane(origin=(0, -3, 3), x_dir=(1, 0, 0), z_dir=(0, -1, 0))):
        Circle(CYLINDER004_R)
    extrude(amount=CYLINDER004_DEPTH)

    # Fusion004: union Cylinder005
    add(cylinder005.part)


with BuildPart() as cut004:
    # Cut004 base: copy of Fusion
    add(fusion.part)

    # Cut004: cut Fusion004
    add(fusion004.part, mode=Mode.SUBTRACT)


with BuildPart() as cylinder021:
    # Cylinder021 → Cylinder021 (new body)
    with BuildSketch(Plane(origin=(-2, 3, 3), x_dir=(1, 0, 0), z_dir=(0, 1, 0))):
        Circle(CYLINDER021_R)
    extrude(amount=CYLINDER021_DEPTH)


with BuildPart() as cylinder022:
    # Cylinder022 → Cylinder022 (new body)
    with BuildSketch(Plane(origin=(-2, 3, -1), x_dir=(1, 0, 0), z_dir=(0, 1, 0))):
        Circle(CYLINDER022_R)
    extrude(amount=CYLINDER022_DEPTH)


with BuildPart() as cylinder023:
    # Cylinder023 → Cylinder023 (new body)
    with BuildSketch(Plane(origin=(2, 3, -1), x_dir=(1, 0, 0), z_dir=(0, 1, 0))):
        Circle(CYLINDER023_R)
    extrude(amount=CYLINDER023_DEPTH)


with BuildPart() as fusion005:
    # Cylinder020 → Cylinder020 (new body)
    with BuildSketch(Plane(origin=(2, 3, 3), x_dir=(1, 0, 0), z_dir=(0, 1, 0))):
        Circle(CYLINDER020_R)
    extrude(amount=CYLINDER020_DEPTH)

    # Fusion005: union Cylinder021, Cylinder022, Cylinder023
    add(cylinder021.part)
    add(cylinder022.part)
    add(cylinder023.part)


with BuildPart() as cut005:
    # Cut005 base: copy of Fusion
    add(fusion.part)

    # Cut005: cut Fusion005
    add(fusion005.part, mode=Mode.SUBTRACT)


solid = Compound([common.part, cut.part, cut001.part, cut002.part, cut003.part, cut004.part, cut005.part])
